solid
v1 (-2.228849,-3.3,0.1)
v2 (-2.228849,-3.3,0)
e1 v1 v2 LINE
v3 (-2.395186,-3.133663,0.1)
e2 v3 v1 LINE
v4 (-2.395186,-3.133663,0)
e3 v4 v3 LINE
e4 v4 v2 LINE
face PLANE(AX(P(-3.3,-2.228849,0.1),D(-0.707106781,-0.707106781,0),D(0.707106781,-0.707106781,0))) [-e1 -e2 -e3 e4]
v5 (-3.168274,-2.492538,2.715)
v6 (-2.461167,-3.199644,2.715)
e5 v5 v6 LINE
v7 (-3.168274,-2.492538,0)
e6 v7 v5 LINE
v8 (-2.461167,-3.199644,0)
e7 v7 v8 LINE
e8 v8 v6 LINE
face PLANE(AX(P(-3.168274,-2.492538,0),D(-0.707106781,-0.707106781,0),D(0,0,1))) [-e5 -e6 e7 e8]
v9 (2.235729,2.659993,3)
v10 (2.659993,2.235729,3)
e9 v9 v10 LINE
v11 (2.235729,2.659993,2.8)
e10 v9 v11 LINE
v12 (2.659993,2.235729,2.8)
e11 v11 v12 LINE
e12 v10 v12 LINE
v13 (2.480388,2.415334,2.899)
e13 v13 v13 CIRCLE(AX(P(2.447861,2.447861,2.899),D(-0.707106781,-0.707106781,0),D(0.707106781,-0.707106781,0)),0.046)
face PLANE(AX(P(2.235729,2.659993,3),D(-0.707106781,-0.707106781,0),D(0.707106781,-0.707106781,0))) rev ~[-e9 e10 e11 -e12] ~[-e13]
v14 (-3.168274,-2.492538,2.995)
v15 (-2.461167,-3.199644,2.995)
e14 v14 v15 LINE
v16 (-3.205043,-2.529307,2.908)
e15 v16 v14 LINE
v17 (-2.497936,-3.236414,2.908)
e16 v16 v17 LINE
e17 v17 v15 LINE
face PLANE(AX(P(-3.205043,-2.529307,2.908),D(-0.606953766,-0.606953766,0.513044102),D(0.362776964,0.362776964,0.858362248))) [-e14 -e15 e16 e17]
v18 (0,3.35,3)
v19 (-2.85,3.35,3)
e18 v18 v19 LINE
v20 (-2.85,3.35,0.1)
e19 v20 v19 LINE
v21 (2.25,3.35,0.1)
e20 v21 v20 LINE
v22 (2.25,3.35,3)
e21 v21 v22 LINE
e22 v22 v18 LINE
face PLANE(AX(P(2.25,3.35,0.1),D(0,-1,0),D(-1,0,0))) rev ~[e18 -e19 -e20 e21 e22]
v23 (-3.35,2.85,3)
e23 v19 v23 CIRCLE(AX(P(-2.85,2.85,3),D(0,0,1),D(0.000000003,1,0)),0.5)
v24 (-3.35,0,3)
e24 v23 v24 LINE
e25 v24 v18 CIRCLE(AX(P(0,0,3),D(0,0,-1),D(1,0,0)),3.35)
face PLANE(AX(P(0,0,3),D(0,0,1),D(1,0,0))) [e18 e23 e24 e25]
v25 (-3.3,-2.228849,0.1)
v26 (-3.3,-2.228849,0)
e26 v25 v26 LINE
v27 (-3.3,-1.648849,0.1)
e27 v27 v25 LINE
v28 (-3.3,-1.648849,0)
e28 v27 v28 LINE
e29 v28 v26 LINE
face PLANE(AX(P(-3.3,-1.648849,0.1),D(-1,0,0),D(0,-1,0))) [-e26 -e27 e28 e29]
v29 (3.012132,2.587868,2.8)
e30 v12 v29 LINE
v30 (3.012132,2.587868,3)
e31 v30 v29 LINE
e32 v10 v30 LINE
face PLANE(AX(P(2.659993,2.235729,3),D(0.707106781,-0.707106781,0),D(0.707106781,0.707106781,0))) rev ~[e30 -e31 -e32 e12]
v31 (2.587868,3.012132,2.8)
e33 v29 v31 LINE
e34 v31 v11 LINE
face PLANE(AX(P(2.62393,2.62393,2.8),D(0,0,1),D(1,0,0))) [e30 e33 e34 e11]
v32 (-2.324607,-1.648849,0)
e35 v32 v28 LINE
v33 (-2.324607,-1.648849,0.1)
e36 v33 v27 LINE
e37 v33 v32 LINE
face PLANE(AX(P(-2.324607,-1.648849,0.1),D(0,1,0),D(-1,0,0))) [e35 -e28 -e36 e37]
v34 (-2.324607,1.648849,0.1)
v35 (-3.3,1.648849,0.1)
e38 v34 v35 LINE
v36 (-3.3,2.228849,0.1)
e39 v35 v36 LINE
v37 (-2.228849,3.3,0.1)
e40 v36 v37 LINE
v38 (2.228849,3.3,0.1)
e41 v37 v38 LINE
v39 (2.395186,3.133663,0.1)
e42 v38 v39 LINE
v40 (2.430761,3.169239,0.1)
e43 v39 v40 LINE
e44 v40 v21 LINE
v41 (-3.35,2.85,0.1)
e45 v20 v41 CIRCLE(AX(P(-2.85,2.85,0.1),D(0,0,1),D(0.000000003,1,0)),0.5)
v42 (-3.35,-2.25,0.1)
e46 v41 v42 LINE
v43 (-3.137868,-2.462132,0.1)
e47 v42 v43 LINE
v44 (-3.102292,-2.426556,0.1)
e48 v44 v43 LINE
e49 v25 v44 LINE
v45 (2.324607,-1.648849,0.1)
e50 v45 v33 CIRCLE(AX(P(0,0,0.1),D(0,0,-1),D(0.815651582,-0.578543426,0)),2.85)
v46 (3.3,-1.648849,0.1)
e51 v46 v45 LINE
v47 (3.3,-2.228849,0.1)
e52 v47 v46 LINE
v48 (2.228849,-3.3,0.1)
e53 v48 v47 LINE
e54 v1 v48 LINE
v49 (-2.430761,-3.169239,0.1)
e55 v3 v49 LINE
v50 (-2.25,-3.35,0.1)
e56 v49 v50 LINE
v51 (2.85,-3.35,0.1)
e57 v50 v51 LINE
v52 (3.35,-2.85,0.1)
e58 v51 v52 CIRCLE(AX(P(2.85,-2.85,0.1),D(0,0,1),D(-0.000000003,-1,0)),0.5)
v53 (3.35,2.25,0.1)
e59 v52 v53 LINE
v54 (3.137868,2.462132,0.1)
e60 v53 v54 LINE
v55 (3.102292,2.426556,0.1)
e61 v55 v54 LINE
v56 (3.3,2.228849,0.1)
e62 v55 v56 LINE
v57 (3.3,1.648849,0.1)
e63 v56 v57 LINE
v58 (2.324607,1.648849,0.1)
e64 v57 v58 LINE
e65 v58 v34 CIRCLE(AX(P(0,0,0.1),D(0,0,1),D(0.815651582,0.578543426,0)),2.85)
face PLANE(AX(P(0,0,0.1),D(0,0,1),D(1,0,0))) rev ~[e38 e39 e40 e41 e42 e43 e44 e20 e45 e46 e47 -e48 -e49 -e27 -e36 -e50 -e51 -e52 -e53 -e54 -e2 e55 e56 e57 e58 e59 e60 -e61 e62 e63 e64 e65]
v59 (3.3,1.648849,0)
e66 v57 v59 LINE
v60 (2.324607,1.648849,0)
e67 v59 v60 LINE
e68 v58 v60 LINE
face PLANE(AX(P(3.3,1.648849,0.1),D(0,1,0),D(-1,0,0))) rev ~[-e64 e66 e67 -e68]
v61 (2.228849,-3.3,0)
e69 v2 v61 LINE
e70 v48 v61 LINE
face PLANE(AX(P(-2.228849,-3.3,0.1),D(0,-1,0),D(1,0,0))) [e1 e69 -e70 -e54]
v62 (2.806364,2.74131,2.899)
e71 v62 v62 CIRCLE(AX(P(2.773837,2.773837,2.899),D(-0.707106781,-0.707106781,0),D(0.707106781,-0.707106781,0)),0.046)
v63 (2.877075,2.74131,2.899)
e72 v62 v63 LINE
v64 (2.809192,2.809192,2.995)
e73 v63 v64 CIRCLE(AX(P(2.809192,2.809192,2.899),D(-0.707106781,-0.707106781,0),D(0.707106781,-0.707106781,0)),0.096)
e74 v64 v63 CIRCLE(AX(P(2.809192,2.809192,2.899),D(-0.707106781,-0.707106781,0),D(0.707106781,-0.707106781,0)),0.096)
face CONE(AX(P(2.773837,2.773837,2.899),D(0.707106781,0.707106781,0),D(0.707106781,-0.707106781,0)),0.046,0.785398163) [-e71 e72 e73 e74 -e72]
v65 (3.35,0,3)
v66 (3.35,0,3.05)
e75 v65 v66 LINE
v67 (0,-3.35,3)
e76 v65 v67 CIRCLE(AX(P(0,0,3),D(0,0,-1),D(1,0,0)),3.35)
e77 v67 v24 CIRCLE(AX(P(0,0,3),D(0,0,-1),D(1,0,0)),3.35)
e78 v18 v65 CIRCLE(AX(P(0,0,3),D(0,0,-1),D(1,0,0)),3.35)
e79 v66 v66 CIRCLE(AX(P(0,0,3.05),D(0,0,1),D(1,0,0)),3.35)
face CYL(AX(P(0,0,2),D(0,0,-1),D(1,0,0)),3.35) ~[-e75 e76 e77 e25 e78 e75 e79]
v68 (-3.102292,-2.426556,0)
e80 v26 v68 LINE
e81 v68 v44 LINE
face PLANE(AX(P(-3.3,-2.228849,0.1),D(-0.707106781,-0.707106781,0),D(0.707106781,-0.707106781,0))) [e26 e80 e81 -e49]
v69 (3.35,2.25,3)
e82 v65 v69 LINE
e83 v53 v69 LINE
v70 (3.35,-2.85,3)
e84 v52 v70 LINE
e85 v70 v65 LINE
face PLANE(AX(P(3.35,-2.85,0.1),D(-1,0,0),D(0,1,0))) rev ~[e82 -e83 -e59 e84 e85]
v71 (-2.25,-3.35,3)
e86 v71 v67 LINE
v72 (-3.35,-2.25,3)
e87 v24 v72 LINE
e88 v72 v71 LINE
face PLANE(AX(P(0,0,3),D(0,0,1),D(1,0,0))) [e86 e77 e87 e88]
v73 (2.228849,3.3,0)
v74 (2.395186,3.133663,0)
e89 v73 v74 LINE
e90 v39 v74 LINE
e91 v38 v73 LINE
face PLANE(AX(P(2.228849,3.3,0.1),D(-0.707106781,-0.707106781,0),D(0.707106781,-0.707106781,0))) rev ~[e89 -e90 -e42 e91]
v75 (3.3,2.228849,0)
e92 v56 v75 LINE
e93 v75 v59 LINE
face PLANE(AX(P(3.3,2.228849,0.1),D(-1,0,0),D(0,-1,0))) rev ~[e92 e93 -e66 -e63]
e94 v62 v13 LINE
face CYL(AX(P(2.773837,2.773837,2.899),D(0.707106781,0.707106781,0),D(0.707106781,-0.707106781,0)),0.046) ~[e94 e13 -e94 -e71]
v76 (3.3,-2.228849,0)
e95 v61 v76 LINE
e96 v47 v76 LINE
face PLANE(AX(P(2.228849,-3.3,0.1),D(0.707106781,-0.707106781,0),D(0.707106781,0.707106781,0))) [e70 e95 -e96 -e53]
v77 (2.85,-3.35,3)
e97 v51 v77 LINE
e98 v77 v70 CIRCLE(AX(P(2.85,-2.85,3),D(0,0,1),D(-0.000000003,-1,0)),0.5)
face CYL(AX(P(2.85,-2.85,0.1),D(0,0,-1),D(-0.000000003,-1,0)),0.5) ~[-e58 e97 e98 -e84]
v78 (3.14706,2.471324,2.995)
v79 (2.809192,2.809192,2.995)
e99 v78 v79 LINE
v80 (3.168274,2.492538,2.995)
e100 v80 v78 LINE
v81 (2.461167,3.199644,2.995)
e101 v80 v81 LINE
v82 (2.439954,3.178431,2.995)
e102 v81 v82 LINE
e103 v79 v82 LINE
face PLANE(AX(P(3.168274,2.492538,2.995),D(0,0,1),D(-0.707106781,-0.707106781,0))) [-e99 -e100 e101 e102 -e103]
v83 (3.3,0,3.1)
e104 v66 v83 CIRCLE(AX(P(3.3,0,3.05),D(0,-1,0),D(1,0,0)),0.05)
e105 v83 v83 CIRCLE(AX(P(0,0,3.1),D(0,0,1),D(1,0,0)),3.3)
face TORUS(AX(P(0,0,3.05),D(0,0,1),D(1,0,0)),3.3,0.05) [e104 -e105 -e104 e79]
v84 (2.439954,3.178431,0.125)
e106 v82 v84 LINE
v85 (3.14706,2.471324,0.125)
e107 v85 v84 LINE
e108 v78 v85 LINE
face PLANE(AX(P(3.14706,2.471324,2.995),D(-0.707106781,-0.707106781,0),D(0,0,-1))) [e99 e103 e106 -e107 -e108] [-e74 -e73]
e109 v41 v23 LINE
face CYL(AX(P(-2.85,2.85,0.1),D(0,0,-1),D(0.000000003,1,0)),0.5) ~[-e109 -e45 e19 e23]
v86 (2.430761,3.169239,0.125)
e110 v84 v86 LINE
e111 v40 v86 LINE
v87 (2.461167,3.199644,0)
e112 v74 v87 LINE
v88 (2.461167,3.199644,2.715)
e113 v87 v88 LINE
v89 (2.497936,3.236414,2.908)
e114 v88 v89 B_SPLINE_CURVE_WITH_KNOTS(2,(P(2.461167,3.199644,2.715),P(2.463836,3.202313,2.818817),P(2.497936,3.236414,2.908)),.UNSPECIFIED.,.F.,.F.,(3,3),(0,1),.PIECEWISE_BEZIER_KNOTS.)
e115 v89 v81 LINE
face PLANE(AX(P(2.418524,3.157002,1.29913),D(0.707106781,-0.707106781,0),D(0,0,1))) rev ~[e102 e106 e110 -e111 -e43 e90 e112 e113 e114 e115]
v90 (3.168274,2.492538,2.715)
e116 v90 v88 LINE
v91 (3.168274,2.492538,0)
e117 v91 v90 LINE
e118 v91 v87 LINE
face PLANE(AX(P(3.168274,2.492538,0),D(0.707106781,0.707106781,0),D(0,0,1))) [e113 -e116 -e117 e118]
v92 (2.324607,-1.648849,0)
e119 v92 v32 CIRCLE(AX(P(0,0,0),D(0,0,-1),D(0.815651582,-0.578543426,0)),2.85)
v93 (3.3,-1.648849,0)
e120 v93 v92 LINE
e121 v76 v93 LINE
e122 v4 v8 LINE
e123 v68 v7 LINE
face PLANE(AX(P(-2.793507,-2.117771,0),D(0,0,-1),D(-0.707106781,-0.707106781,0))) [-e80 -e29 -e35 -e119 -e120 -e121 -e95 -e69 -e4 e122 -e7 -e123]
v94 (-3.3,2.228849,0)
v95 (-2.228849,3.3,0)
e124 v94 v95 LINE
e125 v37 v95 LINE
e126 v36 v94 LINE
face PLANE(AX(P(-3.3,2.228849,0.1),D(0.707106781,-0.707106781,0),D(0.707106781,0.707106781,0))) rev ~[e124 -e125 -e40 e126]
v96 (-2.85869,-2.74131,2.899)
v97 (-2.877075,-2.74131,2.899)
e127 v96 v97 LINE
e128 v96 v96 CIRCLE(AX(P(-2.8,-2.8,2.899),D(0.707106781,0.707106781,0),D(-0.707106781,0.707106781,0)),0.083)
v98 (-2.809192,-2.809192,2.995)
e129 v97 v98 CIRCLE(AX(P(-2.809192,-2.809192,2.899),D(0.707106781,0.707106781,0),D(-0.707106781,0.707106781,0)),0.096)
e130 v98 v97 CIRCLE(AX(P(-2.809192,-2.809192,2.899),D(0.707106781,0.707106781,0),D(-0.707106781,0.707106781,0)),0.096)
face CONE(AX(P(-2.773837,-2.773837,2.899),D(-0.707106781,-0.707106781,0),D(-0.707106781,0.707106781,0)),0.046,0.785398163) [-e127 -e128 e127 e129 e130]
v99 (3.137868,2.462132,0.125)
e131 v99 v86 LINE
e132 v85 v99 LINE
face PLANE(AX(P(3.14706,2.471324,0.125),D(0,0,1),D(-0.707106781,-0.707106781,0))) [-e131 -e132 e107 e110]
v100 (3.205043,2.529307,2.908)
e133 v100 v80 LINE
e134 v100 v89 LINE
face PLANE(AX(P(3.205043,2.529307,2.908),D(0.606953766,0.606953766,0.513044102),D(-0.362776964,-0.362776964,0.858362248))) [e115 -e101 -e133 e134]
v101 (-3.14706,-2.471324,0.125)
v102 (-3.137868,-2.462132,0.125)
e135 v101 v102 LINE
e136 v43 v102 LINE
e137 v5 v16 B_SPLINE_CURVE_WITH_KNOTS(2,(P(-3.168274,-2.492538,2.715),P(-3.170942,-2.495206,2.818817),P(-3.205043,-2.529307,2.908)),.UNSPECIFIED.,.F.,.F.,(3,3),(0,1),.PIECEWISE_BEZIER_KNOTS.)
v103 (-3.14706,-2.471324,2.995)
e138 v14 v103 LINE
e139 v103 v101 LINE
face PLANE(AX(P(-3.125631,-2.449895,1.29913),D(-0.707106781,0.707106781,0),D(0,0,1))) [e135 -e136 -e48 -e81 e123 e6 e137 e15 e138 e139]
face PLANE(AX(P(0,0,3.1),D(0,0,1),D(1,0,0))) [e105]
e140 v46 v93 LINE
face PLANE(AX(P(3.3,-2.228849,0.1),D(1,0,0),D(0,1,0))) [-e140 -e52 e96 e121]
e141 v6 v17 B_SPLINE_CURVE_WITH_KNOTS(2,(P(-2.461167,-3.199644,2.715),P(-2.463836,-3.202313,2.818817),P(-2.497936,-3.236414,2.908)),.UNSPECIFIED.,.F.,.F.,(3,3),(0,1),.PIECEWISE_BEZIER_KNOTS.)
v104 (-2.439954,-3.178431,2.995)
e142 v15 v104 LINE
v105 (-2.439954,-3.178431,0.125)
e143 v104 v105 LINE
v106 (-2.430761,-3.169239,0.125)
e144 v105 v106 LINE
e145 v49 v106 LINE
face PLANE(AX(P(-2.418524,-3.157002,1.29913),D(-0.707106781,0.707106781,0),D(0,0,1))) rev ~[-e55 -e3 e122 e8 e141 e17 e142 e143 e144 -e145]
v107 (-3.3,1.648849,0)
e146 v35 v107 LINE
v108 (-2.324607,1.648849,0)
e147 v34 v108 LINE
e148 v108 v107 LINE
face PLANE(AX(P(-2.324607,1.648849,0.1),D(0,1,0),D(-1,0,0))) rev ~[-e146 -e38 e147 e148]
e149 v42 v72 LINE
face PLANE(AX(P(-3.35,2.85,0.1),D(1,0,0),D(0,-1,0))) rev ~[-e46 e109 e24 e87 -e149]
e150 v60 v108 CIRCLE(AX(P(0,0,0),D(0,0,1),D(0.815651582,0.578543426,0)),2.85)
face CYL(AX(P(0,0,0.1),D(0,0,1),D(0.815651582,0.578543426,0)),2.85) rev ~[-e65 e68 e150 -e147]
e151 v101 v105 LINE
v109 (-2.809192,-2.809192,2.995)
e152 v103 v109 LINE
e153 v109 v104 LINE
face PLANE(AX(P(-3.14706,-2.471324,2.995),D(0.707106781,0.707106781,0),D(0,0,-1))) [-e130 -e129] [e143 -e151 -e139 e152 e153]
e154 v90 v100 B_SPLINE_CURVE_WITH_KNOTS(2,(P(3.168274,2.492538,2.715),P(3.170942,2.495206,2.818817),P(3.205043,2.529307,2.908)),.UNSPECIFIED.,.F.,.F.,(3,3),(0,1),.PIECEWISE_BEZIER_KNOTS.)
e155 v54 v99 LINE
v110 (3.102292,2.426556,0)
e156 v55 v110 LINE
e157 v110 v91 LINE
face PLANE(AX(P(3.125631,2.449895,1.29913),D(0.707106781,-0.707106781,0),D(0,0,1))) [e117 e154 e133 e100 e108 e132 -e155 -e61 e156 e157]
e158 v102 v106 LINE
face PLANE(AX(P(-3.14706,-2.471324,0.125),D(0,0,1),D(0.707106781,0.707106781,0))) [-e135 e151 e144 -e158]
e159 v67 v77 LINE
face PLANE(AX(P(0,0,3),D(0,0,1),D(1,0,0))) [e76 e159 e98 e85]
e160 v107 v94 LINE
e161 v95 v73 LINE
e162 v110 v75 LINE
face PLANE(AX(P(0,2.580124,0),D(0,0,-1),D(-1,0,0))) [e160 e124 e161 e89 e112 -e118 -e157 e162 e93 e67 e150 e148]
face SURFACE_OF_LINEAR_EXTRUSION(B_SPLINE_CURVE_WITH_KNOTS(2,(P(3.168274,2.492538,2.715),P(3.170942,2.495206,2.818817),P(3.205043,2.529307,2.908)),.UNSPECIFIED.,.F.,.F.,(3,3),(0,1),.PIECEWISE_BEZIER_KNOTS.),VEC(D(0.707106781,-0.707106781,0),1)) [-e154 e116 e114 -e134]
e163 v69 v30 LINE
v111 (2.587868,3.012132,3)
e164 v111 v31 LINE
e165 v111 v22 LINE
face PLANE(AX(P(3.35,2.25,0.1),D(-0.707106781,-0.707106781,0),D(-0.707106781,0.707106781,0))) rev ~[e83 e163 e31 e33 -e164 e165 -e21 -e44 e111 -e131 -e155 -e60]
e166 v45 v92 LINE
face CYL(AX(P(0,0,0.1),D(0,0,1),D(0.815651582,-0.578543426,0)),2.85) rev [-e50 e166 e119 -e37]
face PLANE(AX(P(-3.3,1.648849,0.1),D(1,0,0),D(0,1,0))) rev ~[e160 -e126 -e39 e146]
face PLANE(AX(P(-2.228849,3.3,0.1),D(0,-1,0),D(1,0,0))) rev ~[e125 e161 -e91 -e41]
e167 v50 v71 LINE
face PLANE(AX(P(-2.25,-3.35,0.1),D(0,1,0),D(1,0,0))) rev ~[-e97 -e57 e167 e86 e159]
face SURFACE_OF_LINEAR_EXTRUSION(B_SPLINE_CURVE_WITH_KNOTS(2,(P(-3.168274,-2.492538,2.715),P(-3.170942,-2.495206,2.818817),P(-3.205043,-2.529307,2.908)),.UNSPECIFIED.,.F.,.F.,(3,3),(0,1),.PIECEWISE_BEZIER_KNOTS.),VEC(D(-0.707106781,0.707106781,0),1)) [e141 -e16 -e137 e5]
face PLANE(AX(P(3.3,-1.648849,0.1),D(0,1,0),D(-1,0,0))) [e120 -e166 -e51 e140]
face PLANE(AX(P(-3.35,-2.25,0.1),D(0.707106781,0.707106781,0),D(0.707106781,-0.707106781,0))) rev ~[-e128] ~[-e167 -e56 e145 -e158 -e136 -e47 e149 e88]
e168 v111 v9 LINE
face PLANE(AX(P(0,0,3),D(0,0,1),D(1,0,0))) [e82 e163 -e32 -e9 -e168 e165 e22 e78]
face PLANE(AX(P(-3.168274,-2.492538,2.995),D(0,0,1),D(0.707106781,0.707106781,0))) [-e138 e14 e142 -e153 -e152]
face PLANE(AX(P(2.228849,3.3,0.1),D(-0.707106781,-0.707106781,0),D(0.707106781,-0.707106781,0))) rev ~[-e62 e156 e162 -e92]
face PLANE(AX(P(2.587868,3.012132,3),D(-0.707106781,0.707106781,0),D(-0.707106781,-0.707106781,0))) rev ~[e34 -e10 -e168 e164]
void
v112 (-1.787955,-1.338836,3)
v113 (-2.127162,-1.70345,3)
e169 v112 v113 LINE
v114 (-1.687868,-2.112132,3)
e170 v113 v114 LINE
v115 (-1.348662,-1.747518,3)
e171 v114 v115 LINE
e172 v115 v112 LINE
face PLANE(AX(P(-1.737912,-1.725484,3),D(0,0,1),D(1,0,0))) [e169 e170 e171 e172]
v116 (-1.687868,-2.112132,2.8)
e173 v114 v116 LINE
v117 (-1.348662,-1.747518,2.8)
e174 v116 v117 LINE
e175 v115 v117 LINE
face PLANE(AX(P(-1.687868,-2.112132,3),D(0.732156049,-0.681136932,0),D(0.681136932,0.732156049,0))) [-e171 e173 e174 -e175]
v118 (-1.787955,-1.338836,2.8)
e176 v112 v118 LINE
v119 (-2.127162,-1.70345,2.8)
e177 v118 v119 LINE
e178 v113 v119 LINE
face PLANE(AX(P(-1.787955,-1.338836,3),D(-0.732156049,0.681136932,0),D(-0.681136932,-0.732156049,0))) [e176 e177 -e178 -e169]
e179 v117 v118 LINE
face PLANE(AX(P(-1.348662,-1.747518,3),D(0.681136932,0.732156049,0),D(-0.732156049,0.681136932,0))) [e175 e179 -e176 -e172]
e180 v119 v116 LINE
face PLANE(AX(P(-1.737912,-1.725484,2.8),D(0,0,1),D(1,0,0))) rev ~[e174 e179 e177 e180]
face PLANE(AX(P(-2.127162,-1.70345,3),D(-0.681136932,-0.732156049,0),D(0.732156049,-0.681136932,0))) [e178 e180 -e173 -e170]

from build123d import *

# Parameters (mm, degrees)
EXTRUDE_START                      = 0.1
EXTRUDE_726_DEPTH                  = 2.9
EXTRUDE_1021_DEPTH                 = 0.1
EXTRUDE_1021_DEPTH_BACK            = 1
SKETCH_2_R                         = 3.35
FILLET_1_R                         = 0.05
EXTRUDE_START_2                    = -0.3
EXTRUDE_1608_DEPTH                 = 1
CUT_EXTRUDE_8_DEPTH                = 0.2
EXTRUDE_START_3                    = 0.05
SKETCH_9_R                         = 0.046
EXTRUDE_1_DEPTH                    = 0.461
EXTRUDE_1_OTHER_WAY_DEPTH          = 0.05
EXTRUDE_1_OTHER_WAY_DRAFT          = 45
PATTERN_CIRCULAR_3_COUNT           = 2
PATTERN_START                      = 0.05
PATTERN_CIRCULAR_3_COPY_1_SKETCH_R = 0.046
PATTERN_CIRCULAR_3_COPY_1_DEPTH    = 0.05
PATTERN_CIRCULAR_3_COPY_1_DRAFT    = 45
PATTERN_CIRCULAR_3_COPY_2_SKETCH_R = 0.046
PATTERN_CIRCULAR_3_COPY_2_DEPTH    = 0.05
PATTERN_CIRCULAR_3_COPY_2_DRAFT    = 45
EXTRUDE_4317_DEPTH                 = 0.1


with BuildPart() as part:
    # Эскиз1 → Extrude 726 (new body)
    with BuildSketch(Plane.XY.offset(EXTRUDE_START)):
        with BuildLine():
            Line((-3.35, -2.25), (-2.25, -3.35))
            Line((-2.25, -3.35), (2.85, -3.35))
            ThreePointArc((2.85, -3.35), (3.203553391, -3.203553391), (3.35, -2.85))
            Line((3.35, -2.85), (3.35, 2.25))
            Line((3.35, 2.25), (2.25, 3.35))
            Line((2.25, 3.35), (-2.85, 3.35))
            ThreePointArc((-2.85, 3.35), (-3.203553391, 3.203553391), (-3.35, 2.85))
            Line((-3.35, 2.85), (-3.35, -2.25))
        make_face()
    extrude(amount=EXTRUDE_726_DEPTH)

    # Эскиз2 → Extrude 1021 (add, two sides: drawn at the far end of the back side and taken through both)
    with BuildSketch(Plane.XY.offset(3).offset(-EXTRUDE_1021_DEPTH_BACK)):
        Circle(SKETCH_2_R)
    extrude(amount=EXTRUDE_1021_DEPTH + EXTRUDE_1021_DEPTH_BACK)

    # Скругление1
    fillet_1_edges = [part.edges().sort_by_distance(p)[0] for p in [
        (-3.35, 0, 3.1),
    ]]
    fillet(fillet_1_edges, radius=FILLET_1_R)

    # Эскиз6 → Extrude 1608 (add)
    with BuildSketch(Plane(origin=(0.55, -0.55, 0), x_dir=(0, 0, 1), z_dir=(0.7071067811865498, -0.7071067811865452, 0)).offset(EXTRUDE_START_2)):
        with BuildLine():
            Line((2.908, -4.054797975), (2.995, -4.002797975))
            Line((2.995, -4.002797975), (2.995, -3.972797975))
            Line((2.995, -3.972797975), (0.125, -3.972797975))
            Line((0.125, -3.972797975), (0.125, -3.472797975))
            Line((0.125, -3.472797975), (0, -3.472797975))
            Line((0, -3.472797975), (0, -4.002797975))
            Line((0, -4.002797975), (2.715, -4.002797975))
            add(Edge.make_bspline(
                [(2.715, -4.002797975), (2.818817166, -4.006572308), (2.908, -4.054797975)],
                knots=[0, 0, 0, 1, 1, 1], degree=2))
        make_face()
    extrude_1608 = extrude(amount=-EXTRUDE_1608_DEPTH)

    # Эскиз8 → Вытянуть8 (cut)
    with BuildSketch(Plane.XY.offset(3)):
        Polygon((3.012132034, 2.587867966), (2.587867966, 3.012132034), (2.235728789, 2.659992857), (2.659992857, 2.235728789), align=None)
        Polygon((-1.687867966, -2.112132034), (-1.348661774, -1.747518322), (-1.787955403, -1.338836163), (-2.127161595, -1.703449875), align=None)
    extrude(amount=-CUT_EXTRUDE_8_DEPTH, mode=Mode.SUBTRACT)

    # Эскиз9 → Бобышка-Вытянуть1 (add)
    with BuildSketch(Plane(origin=(2.809192388, 2.809192388, 0), x_dir=(0, 0, 1), z_dir=(-0.7071067811865452, -0.7071067811865498, 0)).offset(EXTRUDE_START_3)):
        with Locations(Location((2.899, 0, 0), (0, 0, 270))):
            Circle(SKETCH_9_R)
    extrude_1 = extrude(amount=EXTRUDE_1_DEPTH)


with BuildPart() as extrude_1_other_way_tool:
    # Эскиз9 → Бобышка-Вытянуть1 other way (with draft: the straight prism first)
    with BuildSketch(Plane(origin=(2.809192388, 2.809192388, 0), x_dir=(0, 0, 1), z_dir=(-0.7071067811865452, -0.7071067811865498, 0)).offset(EXTRUDE_START_3)):
        with Locations(Location((2.899, 0, 0), (0, 0, 270))):
            Circle(SKETCH_9_R)
    extrude(amount=-EXTRUDE_1_OTHER_WAY_DEPTH)
    # Бобышка-Вытянуть1 other way: the draft: its side faces are tilted about the plane it starts from
    extrude_1_other_way_sides = [extrude_1_other_way_tool.faces().sort_by_distance(p)[0] for p in [
        (2.758987807, 2.824041631, 2.899),
    ]]
    draft(extrude_1_other_way_sides, Plane(origin=(2.809192388, 2.809192388, 0), x_dir=(0, 0, 1), z_dir=(-0.7071067811865452, -0.7071067811865498, 0)).offset(EXTRUDE_START_3), EXTRUDE_1_OTHER_WAY_DRAFT)


with BuildPart() as part_1:
    add(part.part)

    # Бобышка-Вытянуть1 other way: add extrude_1_other_way_tool
    add(extrude_1_other_way_tool.part)

    # Круговой массив3: Extrude 1608, Бобышка-Вытянуть1 ×2 about axis
    pattern_circular_3_axis = Axis((0, 0, 3.1), (0, 0, -1))
    add([extrude_1608.rotate(pattern_circular_3_axis, i * 360 / PATTERN_CIRCULAR_3_COUNT) for i in range(1, PATTERN_CIRCULAR_3_COUNT)])
    add([extrude_1.rotate(pattern_circular_3_axis, i * 360 / PATTERN_CIRCULAR_3_COUNT) for i in range(1, PATTERN_CIRCULAR_3_COUNT)])


with BuildPart() as pattern_circular_3_copy_1_tool:
    # Круговой массив3 copy 1 sketch → Круговой массив3 copy 1 (with draft: the straight prism first)
    with BuildSketch(Plane(origin=(-2.809192388, -2.809192388, 0), x_dir=(0, 0, 1), z_dir=(0.7071067811865451, 0.7071067811865499, 0)).offset(PATTERN_START)):
        with Locations(Location((2.899, 0, 0), (0, 0, 270))):
            Circle(PATTERN_CIRCULAR_3_COPY_1_SKETCH_R)
    extrude(amount=-PATTERN_CIRCULAR_3_COPY_1_DEPTH)
    # Круговой массив3 copy 1: the draft: its side faces are tilted about the plane it starts from
    pattern_circular_3_copy_1_sides = [pattern_circular_3_copy_1_tool.faces().sort_by_distance(p)[0] for p in [
        (-2.758987807, -2.824041631, 2.899),
    ]]
    draft(pattern_circular_3_copy_1_sides, Plane(origin=(-2.809192388, -2.809192388, 0), x_dir=(0, 0, 1), z_dir=(0.7071067811865451, 0.7071067811865499, 0)).offset(PATTERN_START), PATTERN_CIRCULAR_3_COPY_1_DRAFT)


with BuildPart() as part_2:
    add(part_1.part)

    # Круговой массив3 copy 1: add pattern_circular_3_copy_1_tool
    add(pattern_circular_3_copy_1_tool.part)


with BuildPart() as pattern_circular_3_copy_2_tool:
    # Круговой массив3 copy 2 sketch → Круговой массив3 copy 2 (with draft: the straight prism first)
    with BuildSketch(Plane(origin=(-2.809192388, -2.809192388, 0), x_dir=(0, 0, 1), z_dir=(0.7071067811865451, 0.7071067811865499, 0)).offset(PATTERN_START)):
        with Locations(Location((2.899, 0, 0), (0, 0, 270))):
            Circle(PATTERN_CIRCULAR_3_COPY_2_SKETCH_R)
    extrude(amount=-PATTERN_CIRCULAR_3_COPY_2_DEPTH)
    # Круговой массив3 copy 2: the draft: its side faces are tilted about the plane it starts from
    pattern_circular_3_copy_2_sides = [pattern_circular_3_copy_2_tool.faces().sort_by_distance(p)[0] for p in [
        (-2.758987807, -2.824041631, 2.899),
    ]]
    draft(pattern_circular_3_copy_2_sides, Plane(origin=(-2.809192388, -2.809192388, 0), x_dir=(0, 0, 1), z_dir=(0.7071067811865451, 0.7071067811865499, 0)).offset(PATTERN_START), PATTERN_CIRCULAR_3_COPY_2_DRAFT)


with BuildPart() as part_3:
    add(part_2.part)

    # Круговой массив3 copy 2: add pattern_circular_3_copy_2_tool
    add(pattern_circular_3_copy_2_tool.part)

    # Эскиз13 → Extrude 4317 (add)
    with BuildSketch(Plane(origin=(0, 0, 0.1), x_dir=(-1, 0, 0), z_dir=(0, 0, -1))):
        with BuildLine():
            Line((2.32460701, 1.648848765), (3.3, 1.648848765))
            Line((3.3, 1.648848765), (3.3, 2.228848765))
            Line((3.3, 2.228848765), (2.228848765, 3.3))
            Line((2.228848765, 3.3), (-2.228848765, 3.3))
            Line((-2.228848765, 3.3), (-3.3, 2.228848765))
            Line((-3.3, 2.228848765), (-3.3, 1.648848765))
            Line((-3.3, 1.648848765), (-2.32460701, 1.648848765))
            ThreePointArc((-2.32460701, 1.648848765), (0, 2.85), (2.32460701, 1.648848765))
        make_face()
        with BuildLine():
            Line((-3.3, -1.648848765), (-2.32460701, -1.648848765))
            ThreePointArc((-2.32460701, -1.648848765), (0, -2.85), (2.32460701, -1.648848765))
            Line((2.32460701, -1.648848765), (3.3, -1.648848765))
            Line((3.3, -1.648848765), (3.3, -2.228848765))
            Line((3.3, -2.228848765), (2.228848765, -3.3))
            Line((2.228848765, -3.3), (-2.228848765, -3.3))
            Line((-2.228848765, -3.3), (-3.3, -2.228848765))
            Line((-3.3, -2.228848765), (-3.3, -1.648848765))
        make_face()
    extrude(amount=EXTRUDE_4317_DEPTH)


solid = part_3.part
